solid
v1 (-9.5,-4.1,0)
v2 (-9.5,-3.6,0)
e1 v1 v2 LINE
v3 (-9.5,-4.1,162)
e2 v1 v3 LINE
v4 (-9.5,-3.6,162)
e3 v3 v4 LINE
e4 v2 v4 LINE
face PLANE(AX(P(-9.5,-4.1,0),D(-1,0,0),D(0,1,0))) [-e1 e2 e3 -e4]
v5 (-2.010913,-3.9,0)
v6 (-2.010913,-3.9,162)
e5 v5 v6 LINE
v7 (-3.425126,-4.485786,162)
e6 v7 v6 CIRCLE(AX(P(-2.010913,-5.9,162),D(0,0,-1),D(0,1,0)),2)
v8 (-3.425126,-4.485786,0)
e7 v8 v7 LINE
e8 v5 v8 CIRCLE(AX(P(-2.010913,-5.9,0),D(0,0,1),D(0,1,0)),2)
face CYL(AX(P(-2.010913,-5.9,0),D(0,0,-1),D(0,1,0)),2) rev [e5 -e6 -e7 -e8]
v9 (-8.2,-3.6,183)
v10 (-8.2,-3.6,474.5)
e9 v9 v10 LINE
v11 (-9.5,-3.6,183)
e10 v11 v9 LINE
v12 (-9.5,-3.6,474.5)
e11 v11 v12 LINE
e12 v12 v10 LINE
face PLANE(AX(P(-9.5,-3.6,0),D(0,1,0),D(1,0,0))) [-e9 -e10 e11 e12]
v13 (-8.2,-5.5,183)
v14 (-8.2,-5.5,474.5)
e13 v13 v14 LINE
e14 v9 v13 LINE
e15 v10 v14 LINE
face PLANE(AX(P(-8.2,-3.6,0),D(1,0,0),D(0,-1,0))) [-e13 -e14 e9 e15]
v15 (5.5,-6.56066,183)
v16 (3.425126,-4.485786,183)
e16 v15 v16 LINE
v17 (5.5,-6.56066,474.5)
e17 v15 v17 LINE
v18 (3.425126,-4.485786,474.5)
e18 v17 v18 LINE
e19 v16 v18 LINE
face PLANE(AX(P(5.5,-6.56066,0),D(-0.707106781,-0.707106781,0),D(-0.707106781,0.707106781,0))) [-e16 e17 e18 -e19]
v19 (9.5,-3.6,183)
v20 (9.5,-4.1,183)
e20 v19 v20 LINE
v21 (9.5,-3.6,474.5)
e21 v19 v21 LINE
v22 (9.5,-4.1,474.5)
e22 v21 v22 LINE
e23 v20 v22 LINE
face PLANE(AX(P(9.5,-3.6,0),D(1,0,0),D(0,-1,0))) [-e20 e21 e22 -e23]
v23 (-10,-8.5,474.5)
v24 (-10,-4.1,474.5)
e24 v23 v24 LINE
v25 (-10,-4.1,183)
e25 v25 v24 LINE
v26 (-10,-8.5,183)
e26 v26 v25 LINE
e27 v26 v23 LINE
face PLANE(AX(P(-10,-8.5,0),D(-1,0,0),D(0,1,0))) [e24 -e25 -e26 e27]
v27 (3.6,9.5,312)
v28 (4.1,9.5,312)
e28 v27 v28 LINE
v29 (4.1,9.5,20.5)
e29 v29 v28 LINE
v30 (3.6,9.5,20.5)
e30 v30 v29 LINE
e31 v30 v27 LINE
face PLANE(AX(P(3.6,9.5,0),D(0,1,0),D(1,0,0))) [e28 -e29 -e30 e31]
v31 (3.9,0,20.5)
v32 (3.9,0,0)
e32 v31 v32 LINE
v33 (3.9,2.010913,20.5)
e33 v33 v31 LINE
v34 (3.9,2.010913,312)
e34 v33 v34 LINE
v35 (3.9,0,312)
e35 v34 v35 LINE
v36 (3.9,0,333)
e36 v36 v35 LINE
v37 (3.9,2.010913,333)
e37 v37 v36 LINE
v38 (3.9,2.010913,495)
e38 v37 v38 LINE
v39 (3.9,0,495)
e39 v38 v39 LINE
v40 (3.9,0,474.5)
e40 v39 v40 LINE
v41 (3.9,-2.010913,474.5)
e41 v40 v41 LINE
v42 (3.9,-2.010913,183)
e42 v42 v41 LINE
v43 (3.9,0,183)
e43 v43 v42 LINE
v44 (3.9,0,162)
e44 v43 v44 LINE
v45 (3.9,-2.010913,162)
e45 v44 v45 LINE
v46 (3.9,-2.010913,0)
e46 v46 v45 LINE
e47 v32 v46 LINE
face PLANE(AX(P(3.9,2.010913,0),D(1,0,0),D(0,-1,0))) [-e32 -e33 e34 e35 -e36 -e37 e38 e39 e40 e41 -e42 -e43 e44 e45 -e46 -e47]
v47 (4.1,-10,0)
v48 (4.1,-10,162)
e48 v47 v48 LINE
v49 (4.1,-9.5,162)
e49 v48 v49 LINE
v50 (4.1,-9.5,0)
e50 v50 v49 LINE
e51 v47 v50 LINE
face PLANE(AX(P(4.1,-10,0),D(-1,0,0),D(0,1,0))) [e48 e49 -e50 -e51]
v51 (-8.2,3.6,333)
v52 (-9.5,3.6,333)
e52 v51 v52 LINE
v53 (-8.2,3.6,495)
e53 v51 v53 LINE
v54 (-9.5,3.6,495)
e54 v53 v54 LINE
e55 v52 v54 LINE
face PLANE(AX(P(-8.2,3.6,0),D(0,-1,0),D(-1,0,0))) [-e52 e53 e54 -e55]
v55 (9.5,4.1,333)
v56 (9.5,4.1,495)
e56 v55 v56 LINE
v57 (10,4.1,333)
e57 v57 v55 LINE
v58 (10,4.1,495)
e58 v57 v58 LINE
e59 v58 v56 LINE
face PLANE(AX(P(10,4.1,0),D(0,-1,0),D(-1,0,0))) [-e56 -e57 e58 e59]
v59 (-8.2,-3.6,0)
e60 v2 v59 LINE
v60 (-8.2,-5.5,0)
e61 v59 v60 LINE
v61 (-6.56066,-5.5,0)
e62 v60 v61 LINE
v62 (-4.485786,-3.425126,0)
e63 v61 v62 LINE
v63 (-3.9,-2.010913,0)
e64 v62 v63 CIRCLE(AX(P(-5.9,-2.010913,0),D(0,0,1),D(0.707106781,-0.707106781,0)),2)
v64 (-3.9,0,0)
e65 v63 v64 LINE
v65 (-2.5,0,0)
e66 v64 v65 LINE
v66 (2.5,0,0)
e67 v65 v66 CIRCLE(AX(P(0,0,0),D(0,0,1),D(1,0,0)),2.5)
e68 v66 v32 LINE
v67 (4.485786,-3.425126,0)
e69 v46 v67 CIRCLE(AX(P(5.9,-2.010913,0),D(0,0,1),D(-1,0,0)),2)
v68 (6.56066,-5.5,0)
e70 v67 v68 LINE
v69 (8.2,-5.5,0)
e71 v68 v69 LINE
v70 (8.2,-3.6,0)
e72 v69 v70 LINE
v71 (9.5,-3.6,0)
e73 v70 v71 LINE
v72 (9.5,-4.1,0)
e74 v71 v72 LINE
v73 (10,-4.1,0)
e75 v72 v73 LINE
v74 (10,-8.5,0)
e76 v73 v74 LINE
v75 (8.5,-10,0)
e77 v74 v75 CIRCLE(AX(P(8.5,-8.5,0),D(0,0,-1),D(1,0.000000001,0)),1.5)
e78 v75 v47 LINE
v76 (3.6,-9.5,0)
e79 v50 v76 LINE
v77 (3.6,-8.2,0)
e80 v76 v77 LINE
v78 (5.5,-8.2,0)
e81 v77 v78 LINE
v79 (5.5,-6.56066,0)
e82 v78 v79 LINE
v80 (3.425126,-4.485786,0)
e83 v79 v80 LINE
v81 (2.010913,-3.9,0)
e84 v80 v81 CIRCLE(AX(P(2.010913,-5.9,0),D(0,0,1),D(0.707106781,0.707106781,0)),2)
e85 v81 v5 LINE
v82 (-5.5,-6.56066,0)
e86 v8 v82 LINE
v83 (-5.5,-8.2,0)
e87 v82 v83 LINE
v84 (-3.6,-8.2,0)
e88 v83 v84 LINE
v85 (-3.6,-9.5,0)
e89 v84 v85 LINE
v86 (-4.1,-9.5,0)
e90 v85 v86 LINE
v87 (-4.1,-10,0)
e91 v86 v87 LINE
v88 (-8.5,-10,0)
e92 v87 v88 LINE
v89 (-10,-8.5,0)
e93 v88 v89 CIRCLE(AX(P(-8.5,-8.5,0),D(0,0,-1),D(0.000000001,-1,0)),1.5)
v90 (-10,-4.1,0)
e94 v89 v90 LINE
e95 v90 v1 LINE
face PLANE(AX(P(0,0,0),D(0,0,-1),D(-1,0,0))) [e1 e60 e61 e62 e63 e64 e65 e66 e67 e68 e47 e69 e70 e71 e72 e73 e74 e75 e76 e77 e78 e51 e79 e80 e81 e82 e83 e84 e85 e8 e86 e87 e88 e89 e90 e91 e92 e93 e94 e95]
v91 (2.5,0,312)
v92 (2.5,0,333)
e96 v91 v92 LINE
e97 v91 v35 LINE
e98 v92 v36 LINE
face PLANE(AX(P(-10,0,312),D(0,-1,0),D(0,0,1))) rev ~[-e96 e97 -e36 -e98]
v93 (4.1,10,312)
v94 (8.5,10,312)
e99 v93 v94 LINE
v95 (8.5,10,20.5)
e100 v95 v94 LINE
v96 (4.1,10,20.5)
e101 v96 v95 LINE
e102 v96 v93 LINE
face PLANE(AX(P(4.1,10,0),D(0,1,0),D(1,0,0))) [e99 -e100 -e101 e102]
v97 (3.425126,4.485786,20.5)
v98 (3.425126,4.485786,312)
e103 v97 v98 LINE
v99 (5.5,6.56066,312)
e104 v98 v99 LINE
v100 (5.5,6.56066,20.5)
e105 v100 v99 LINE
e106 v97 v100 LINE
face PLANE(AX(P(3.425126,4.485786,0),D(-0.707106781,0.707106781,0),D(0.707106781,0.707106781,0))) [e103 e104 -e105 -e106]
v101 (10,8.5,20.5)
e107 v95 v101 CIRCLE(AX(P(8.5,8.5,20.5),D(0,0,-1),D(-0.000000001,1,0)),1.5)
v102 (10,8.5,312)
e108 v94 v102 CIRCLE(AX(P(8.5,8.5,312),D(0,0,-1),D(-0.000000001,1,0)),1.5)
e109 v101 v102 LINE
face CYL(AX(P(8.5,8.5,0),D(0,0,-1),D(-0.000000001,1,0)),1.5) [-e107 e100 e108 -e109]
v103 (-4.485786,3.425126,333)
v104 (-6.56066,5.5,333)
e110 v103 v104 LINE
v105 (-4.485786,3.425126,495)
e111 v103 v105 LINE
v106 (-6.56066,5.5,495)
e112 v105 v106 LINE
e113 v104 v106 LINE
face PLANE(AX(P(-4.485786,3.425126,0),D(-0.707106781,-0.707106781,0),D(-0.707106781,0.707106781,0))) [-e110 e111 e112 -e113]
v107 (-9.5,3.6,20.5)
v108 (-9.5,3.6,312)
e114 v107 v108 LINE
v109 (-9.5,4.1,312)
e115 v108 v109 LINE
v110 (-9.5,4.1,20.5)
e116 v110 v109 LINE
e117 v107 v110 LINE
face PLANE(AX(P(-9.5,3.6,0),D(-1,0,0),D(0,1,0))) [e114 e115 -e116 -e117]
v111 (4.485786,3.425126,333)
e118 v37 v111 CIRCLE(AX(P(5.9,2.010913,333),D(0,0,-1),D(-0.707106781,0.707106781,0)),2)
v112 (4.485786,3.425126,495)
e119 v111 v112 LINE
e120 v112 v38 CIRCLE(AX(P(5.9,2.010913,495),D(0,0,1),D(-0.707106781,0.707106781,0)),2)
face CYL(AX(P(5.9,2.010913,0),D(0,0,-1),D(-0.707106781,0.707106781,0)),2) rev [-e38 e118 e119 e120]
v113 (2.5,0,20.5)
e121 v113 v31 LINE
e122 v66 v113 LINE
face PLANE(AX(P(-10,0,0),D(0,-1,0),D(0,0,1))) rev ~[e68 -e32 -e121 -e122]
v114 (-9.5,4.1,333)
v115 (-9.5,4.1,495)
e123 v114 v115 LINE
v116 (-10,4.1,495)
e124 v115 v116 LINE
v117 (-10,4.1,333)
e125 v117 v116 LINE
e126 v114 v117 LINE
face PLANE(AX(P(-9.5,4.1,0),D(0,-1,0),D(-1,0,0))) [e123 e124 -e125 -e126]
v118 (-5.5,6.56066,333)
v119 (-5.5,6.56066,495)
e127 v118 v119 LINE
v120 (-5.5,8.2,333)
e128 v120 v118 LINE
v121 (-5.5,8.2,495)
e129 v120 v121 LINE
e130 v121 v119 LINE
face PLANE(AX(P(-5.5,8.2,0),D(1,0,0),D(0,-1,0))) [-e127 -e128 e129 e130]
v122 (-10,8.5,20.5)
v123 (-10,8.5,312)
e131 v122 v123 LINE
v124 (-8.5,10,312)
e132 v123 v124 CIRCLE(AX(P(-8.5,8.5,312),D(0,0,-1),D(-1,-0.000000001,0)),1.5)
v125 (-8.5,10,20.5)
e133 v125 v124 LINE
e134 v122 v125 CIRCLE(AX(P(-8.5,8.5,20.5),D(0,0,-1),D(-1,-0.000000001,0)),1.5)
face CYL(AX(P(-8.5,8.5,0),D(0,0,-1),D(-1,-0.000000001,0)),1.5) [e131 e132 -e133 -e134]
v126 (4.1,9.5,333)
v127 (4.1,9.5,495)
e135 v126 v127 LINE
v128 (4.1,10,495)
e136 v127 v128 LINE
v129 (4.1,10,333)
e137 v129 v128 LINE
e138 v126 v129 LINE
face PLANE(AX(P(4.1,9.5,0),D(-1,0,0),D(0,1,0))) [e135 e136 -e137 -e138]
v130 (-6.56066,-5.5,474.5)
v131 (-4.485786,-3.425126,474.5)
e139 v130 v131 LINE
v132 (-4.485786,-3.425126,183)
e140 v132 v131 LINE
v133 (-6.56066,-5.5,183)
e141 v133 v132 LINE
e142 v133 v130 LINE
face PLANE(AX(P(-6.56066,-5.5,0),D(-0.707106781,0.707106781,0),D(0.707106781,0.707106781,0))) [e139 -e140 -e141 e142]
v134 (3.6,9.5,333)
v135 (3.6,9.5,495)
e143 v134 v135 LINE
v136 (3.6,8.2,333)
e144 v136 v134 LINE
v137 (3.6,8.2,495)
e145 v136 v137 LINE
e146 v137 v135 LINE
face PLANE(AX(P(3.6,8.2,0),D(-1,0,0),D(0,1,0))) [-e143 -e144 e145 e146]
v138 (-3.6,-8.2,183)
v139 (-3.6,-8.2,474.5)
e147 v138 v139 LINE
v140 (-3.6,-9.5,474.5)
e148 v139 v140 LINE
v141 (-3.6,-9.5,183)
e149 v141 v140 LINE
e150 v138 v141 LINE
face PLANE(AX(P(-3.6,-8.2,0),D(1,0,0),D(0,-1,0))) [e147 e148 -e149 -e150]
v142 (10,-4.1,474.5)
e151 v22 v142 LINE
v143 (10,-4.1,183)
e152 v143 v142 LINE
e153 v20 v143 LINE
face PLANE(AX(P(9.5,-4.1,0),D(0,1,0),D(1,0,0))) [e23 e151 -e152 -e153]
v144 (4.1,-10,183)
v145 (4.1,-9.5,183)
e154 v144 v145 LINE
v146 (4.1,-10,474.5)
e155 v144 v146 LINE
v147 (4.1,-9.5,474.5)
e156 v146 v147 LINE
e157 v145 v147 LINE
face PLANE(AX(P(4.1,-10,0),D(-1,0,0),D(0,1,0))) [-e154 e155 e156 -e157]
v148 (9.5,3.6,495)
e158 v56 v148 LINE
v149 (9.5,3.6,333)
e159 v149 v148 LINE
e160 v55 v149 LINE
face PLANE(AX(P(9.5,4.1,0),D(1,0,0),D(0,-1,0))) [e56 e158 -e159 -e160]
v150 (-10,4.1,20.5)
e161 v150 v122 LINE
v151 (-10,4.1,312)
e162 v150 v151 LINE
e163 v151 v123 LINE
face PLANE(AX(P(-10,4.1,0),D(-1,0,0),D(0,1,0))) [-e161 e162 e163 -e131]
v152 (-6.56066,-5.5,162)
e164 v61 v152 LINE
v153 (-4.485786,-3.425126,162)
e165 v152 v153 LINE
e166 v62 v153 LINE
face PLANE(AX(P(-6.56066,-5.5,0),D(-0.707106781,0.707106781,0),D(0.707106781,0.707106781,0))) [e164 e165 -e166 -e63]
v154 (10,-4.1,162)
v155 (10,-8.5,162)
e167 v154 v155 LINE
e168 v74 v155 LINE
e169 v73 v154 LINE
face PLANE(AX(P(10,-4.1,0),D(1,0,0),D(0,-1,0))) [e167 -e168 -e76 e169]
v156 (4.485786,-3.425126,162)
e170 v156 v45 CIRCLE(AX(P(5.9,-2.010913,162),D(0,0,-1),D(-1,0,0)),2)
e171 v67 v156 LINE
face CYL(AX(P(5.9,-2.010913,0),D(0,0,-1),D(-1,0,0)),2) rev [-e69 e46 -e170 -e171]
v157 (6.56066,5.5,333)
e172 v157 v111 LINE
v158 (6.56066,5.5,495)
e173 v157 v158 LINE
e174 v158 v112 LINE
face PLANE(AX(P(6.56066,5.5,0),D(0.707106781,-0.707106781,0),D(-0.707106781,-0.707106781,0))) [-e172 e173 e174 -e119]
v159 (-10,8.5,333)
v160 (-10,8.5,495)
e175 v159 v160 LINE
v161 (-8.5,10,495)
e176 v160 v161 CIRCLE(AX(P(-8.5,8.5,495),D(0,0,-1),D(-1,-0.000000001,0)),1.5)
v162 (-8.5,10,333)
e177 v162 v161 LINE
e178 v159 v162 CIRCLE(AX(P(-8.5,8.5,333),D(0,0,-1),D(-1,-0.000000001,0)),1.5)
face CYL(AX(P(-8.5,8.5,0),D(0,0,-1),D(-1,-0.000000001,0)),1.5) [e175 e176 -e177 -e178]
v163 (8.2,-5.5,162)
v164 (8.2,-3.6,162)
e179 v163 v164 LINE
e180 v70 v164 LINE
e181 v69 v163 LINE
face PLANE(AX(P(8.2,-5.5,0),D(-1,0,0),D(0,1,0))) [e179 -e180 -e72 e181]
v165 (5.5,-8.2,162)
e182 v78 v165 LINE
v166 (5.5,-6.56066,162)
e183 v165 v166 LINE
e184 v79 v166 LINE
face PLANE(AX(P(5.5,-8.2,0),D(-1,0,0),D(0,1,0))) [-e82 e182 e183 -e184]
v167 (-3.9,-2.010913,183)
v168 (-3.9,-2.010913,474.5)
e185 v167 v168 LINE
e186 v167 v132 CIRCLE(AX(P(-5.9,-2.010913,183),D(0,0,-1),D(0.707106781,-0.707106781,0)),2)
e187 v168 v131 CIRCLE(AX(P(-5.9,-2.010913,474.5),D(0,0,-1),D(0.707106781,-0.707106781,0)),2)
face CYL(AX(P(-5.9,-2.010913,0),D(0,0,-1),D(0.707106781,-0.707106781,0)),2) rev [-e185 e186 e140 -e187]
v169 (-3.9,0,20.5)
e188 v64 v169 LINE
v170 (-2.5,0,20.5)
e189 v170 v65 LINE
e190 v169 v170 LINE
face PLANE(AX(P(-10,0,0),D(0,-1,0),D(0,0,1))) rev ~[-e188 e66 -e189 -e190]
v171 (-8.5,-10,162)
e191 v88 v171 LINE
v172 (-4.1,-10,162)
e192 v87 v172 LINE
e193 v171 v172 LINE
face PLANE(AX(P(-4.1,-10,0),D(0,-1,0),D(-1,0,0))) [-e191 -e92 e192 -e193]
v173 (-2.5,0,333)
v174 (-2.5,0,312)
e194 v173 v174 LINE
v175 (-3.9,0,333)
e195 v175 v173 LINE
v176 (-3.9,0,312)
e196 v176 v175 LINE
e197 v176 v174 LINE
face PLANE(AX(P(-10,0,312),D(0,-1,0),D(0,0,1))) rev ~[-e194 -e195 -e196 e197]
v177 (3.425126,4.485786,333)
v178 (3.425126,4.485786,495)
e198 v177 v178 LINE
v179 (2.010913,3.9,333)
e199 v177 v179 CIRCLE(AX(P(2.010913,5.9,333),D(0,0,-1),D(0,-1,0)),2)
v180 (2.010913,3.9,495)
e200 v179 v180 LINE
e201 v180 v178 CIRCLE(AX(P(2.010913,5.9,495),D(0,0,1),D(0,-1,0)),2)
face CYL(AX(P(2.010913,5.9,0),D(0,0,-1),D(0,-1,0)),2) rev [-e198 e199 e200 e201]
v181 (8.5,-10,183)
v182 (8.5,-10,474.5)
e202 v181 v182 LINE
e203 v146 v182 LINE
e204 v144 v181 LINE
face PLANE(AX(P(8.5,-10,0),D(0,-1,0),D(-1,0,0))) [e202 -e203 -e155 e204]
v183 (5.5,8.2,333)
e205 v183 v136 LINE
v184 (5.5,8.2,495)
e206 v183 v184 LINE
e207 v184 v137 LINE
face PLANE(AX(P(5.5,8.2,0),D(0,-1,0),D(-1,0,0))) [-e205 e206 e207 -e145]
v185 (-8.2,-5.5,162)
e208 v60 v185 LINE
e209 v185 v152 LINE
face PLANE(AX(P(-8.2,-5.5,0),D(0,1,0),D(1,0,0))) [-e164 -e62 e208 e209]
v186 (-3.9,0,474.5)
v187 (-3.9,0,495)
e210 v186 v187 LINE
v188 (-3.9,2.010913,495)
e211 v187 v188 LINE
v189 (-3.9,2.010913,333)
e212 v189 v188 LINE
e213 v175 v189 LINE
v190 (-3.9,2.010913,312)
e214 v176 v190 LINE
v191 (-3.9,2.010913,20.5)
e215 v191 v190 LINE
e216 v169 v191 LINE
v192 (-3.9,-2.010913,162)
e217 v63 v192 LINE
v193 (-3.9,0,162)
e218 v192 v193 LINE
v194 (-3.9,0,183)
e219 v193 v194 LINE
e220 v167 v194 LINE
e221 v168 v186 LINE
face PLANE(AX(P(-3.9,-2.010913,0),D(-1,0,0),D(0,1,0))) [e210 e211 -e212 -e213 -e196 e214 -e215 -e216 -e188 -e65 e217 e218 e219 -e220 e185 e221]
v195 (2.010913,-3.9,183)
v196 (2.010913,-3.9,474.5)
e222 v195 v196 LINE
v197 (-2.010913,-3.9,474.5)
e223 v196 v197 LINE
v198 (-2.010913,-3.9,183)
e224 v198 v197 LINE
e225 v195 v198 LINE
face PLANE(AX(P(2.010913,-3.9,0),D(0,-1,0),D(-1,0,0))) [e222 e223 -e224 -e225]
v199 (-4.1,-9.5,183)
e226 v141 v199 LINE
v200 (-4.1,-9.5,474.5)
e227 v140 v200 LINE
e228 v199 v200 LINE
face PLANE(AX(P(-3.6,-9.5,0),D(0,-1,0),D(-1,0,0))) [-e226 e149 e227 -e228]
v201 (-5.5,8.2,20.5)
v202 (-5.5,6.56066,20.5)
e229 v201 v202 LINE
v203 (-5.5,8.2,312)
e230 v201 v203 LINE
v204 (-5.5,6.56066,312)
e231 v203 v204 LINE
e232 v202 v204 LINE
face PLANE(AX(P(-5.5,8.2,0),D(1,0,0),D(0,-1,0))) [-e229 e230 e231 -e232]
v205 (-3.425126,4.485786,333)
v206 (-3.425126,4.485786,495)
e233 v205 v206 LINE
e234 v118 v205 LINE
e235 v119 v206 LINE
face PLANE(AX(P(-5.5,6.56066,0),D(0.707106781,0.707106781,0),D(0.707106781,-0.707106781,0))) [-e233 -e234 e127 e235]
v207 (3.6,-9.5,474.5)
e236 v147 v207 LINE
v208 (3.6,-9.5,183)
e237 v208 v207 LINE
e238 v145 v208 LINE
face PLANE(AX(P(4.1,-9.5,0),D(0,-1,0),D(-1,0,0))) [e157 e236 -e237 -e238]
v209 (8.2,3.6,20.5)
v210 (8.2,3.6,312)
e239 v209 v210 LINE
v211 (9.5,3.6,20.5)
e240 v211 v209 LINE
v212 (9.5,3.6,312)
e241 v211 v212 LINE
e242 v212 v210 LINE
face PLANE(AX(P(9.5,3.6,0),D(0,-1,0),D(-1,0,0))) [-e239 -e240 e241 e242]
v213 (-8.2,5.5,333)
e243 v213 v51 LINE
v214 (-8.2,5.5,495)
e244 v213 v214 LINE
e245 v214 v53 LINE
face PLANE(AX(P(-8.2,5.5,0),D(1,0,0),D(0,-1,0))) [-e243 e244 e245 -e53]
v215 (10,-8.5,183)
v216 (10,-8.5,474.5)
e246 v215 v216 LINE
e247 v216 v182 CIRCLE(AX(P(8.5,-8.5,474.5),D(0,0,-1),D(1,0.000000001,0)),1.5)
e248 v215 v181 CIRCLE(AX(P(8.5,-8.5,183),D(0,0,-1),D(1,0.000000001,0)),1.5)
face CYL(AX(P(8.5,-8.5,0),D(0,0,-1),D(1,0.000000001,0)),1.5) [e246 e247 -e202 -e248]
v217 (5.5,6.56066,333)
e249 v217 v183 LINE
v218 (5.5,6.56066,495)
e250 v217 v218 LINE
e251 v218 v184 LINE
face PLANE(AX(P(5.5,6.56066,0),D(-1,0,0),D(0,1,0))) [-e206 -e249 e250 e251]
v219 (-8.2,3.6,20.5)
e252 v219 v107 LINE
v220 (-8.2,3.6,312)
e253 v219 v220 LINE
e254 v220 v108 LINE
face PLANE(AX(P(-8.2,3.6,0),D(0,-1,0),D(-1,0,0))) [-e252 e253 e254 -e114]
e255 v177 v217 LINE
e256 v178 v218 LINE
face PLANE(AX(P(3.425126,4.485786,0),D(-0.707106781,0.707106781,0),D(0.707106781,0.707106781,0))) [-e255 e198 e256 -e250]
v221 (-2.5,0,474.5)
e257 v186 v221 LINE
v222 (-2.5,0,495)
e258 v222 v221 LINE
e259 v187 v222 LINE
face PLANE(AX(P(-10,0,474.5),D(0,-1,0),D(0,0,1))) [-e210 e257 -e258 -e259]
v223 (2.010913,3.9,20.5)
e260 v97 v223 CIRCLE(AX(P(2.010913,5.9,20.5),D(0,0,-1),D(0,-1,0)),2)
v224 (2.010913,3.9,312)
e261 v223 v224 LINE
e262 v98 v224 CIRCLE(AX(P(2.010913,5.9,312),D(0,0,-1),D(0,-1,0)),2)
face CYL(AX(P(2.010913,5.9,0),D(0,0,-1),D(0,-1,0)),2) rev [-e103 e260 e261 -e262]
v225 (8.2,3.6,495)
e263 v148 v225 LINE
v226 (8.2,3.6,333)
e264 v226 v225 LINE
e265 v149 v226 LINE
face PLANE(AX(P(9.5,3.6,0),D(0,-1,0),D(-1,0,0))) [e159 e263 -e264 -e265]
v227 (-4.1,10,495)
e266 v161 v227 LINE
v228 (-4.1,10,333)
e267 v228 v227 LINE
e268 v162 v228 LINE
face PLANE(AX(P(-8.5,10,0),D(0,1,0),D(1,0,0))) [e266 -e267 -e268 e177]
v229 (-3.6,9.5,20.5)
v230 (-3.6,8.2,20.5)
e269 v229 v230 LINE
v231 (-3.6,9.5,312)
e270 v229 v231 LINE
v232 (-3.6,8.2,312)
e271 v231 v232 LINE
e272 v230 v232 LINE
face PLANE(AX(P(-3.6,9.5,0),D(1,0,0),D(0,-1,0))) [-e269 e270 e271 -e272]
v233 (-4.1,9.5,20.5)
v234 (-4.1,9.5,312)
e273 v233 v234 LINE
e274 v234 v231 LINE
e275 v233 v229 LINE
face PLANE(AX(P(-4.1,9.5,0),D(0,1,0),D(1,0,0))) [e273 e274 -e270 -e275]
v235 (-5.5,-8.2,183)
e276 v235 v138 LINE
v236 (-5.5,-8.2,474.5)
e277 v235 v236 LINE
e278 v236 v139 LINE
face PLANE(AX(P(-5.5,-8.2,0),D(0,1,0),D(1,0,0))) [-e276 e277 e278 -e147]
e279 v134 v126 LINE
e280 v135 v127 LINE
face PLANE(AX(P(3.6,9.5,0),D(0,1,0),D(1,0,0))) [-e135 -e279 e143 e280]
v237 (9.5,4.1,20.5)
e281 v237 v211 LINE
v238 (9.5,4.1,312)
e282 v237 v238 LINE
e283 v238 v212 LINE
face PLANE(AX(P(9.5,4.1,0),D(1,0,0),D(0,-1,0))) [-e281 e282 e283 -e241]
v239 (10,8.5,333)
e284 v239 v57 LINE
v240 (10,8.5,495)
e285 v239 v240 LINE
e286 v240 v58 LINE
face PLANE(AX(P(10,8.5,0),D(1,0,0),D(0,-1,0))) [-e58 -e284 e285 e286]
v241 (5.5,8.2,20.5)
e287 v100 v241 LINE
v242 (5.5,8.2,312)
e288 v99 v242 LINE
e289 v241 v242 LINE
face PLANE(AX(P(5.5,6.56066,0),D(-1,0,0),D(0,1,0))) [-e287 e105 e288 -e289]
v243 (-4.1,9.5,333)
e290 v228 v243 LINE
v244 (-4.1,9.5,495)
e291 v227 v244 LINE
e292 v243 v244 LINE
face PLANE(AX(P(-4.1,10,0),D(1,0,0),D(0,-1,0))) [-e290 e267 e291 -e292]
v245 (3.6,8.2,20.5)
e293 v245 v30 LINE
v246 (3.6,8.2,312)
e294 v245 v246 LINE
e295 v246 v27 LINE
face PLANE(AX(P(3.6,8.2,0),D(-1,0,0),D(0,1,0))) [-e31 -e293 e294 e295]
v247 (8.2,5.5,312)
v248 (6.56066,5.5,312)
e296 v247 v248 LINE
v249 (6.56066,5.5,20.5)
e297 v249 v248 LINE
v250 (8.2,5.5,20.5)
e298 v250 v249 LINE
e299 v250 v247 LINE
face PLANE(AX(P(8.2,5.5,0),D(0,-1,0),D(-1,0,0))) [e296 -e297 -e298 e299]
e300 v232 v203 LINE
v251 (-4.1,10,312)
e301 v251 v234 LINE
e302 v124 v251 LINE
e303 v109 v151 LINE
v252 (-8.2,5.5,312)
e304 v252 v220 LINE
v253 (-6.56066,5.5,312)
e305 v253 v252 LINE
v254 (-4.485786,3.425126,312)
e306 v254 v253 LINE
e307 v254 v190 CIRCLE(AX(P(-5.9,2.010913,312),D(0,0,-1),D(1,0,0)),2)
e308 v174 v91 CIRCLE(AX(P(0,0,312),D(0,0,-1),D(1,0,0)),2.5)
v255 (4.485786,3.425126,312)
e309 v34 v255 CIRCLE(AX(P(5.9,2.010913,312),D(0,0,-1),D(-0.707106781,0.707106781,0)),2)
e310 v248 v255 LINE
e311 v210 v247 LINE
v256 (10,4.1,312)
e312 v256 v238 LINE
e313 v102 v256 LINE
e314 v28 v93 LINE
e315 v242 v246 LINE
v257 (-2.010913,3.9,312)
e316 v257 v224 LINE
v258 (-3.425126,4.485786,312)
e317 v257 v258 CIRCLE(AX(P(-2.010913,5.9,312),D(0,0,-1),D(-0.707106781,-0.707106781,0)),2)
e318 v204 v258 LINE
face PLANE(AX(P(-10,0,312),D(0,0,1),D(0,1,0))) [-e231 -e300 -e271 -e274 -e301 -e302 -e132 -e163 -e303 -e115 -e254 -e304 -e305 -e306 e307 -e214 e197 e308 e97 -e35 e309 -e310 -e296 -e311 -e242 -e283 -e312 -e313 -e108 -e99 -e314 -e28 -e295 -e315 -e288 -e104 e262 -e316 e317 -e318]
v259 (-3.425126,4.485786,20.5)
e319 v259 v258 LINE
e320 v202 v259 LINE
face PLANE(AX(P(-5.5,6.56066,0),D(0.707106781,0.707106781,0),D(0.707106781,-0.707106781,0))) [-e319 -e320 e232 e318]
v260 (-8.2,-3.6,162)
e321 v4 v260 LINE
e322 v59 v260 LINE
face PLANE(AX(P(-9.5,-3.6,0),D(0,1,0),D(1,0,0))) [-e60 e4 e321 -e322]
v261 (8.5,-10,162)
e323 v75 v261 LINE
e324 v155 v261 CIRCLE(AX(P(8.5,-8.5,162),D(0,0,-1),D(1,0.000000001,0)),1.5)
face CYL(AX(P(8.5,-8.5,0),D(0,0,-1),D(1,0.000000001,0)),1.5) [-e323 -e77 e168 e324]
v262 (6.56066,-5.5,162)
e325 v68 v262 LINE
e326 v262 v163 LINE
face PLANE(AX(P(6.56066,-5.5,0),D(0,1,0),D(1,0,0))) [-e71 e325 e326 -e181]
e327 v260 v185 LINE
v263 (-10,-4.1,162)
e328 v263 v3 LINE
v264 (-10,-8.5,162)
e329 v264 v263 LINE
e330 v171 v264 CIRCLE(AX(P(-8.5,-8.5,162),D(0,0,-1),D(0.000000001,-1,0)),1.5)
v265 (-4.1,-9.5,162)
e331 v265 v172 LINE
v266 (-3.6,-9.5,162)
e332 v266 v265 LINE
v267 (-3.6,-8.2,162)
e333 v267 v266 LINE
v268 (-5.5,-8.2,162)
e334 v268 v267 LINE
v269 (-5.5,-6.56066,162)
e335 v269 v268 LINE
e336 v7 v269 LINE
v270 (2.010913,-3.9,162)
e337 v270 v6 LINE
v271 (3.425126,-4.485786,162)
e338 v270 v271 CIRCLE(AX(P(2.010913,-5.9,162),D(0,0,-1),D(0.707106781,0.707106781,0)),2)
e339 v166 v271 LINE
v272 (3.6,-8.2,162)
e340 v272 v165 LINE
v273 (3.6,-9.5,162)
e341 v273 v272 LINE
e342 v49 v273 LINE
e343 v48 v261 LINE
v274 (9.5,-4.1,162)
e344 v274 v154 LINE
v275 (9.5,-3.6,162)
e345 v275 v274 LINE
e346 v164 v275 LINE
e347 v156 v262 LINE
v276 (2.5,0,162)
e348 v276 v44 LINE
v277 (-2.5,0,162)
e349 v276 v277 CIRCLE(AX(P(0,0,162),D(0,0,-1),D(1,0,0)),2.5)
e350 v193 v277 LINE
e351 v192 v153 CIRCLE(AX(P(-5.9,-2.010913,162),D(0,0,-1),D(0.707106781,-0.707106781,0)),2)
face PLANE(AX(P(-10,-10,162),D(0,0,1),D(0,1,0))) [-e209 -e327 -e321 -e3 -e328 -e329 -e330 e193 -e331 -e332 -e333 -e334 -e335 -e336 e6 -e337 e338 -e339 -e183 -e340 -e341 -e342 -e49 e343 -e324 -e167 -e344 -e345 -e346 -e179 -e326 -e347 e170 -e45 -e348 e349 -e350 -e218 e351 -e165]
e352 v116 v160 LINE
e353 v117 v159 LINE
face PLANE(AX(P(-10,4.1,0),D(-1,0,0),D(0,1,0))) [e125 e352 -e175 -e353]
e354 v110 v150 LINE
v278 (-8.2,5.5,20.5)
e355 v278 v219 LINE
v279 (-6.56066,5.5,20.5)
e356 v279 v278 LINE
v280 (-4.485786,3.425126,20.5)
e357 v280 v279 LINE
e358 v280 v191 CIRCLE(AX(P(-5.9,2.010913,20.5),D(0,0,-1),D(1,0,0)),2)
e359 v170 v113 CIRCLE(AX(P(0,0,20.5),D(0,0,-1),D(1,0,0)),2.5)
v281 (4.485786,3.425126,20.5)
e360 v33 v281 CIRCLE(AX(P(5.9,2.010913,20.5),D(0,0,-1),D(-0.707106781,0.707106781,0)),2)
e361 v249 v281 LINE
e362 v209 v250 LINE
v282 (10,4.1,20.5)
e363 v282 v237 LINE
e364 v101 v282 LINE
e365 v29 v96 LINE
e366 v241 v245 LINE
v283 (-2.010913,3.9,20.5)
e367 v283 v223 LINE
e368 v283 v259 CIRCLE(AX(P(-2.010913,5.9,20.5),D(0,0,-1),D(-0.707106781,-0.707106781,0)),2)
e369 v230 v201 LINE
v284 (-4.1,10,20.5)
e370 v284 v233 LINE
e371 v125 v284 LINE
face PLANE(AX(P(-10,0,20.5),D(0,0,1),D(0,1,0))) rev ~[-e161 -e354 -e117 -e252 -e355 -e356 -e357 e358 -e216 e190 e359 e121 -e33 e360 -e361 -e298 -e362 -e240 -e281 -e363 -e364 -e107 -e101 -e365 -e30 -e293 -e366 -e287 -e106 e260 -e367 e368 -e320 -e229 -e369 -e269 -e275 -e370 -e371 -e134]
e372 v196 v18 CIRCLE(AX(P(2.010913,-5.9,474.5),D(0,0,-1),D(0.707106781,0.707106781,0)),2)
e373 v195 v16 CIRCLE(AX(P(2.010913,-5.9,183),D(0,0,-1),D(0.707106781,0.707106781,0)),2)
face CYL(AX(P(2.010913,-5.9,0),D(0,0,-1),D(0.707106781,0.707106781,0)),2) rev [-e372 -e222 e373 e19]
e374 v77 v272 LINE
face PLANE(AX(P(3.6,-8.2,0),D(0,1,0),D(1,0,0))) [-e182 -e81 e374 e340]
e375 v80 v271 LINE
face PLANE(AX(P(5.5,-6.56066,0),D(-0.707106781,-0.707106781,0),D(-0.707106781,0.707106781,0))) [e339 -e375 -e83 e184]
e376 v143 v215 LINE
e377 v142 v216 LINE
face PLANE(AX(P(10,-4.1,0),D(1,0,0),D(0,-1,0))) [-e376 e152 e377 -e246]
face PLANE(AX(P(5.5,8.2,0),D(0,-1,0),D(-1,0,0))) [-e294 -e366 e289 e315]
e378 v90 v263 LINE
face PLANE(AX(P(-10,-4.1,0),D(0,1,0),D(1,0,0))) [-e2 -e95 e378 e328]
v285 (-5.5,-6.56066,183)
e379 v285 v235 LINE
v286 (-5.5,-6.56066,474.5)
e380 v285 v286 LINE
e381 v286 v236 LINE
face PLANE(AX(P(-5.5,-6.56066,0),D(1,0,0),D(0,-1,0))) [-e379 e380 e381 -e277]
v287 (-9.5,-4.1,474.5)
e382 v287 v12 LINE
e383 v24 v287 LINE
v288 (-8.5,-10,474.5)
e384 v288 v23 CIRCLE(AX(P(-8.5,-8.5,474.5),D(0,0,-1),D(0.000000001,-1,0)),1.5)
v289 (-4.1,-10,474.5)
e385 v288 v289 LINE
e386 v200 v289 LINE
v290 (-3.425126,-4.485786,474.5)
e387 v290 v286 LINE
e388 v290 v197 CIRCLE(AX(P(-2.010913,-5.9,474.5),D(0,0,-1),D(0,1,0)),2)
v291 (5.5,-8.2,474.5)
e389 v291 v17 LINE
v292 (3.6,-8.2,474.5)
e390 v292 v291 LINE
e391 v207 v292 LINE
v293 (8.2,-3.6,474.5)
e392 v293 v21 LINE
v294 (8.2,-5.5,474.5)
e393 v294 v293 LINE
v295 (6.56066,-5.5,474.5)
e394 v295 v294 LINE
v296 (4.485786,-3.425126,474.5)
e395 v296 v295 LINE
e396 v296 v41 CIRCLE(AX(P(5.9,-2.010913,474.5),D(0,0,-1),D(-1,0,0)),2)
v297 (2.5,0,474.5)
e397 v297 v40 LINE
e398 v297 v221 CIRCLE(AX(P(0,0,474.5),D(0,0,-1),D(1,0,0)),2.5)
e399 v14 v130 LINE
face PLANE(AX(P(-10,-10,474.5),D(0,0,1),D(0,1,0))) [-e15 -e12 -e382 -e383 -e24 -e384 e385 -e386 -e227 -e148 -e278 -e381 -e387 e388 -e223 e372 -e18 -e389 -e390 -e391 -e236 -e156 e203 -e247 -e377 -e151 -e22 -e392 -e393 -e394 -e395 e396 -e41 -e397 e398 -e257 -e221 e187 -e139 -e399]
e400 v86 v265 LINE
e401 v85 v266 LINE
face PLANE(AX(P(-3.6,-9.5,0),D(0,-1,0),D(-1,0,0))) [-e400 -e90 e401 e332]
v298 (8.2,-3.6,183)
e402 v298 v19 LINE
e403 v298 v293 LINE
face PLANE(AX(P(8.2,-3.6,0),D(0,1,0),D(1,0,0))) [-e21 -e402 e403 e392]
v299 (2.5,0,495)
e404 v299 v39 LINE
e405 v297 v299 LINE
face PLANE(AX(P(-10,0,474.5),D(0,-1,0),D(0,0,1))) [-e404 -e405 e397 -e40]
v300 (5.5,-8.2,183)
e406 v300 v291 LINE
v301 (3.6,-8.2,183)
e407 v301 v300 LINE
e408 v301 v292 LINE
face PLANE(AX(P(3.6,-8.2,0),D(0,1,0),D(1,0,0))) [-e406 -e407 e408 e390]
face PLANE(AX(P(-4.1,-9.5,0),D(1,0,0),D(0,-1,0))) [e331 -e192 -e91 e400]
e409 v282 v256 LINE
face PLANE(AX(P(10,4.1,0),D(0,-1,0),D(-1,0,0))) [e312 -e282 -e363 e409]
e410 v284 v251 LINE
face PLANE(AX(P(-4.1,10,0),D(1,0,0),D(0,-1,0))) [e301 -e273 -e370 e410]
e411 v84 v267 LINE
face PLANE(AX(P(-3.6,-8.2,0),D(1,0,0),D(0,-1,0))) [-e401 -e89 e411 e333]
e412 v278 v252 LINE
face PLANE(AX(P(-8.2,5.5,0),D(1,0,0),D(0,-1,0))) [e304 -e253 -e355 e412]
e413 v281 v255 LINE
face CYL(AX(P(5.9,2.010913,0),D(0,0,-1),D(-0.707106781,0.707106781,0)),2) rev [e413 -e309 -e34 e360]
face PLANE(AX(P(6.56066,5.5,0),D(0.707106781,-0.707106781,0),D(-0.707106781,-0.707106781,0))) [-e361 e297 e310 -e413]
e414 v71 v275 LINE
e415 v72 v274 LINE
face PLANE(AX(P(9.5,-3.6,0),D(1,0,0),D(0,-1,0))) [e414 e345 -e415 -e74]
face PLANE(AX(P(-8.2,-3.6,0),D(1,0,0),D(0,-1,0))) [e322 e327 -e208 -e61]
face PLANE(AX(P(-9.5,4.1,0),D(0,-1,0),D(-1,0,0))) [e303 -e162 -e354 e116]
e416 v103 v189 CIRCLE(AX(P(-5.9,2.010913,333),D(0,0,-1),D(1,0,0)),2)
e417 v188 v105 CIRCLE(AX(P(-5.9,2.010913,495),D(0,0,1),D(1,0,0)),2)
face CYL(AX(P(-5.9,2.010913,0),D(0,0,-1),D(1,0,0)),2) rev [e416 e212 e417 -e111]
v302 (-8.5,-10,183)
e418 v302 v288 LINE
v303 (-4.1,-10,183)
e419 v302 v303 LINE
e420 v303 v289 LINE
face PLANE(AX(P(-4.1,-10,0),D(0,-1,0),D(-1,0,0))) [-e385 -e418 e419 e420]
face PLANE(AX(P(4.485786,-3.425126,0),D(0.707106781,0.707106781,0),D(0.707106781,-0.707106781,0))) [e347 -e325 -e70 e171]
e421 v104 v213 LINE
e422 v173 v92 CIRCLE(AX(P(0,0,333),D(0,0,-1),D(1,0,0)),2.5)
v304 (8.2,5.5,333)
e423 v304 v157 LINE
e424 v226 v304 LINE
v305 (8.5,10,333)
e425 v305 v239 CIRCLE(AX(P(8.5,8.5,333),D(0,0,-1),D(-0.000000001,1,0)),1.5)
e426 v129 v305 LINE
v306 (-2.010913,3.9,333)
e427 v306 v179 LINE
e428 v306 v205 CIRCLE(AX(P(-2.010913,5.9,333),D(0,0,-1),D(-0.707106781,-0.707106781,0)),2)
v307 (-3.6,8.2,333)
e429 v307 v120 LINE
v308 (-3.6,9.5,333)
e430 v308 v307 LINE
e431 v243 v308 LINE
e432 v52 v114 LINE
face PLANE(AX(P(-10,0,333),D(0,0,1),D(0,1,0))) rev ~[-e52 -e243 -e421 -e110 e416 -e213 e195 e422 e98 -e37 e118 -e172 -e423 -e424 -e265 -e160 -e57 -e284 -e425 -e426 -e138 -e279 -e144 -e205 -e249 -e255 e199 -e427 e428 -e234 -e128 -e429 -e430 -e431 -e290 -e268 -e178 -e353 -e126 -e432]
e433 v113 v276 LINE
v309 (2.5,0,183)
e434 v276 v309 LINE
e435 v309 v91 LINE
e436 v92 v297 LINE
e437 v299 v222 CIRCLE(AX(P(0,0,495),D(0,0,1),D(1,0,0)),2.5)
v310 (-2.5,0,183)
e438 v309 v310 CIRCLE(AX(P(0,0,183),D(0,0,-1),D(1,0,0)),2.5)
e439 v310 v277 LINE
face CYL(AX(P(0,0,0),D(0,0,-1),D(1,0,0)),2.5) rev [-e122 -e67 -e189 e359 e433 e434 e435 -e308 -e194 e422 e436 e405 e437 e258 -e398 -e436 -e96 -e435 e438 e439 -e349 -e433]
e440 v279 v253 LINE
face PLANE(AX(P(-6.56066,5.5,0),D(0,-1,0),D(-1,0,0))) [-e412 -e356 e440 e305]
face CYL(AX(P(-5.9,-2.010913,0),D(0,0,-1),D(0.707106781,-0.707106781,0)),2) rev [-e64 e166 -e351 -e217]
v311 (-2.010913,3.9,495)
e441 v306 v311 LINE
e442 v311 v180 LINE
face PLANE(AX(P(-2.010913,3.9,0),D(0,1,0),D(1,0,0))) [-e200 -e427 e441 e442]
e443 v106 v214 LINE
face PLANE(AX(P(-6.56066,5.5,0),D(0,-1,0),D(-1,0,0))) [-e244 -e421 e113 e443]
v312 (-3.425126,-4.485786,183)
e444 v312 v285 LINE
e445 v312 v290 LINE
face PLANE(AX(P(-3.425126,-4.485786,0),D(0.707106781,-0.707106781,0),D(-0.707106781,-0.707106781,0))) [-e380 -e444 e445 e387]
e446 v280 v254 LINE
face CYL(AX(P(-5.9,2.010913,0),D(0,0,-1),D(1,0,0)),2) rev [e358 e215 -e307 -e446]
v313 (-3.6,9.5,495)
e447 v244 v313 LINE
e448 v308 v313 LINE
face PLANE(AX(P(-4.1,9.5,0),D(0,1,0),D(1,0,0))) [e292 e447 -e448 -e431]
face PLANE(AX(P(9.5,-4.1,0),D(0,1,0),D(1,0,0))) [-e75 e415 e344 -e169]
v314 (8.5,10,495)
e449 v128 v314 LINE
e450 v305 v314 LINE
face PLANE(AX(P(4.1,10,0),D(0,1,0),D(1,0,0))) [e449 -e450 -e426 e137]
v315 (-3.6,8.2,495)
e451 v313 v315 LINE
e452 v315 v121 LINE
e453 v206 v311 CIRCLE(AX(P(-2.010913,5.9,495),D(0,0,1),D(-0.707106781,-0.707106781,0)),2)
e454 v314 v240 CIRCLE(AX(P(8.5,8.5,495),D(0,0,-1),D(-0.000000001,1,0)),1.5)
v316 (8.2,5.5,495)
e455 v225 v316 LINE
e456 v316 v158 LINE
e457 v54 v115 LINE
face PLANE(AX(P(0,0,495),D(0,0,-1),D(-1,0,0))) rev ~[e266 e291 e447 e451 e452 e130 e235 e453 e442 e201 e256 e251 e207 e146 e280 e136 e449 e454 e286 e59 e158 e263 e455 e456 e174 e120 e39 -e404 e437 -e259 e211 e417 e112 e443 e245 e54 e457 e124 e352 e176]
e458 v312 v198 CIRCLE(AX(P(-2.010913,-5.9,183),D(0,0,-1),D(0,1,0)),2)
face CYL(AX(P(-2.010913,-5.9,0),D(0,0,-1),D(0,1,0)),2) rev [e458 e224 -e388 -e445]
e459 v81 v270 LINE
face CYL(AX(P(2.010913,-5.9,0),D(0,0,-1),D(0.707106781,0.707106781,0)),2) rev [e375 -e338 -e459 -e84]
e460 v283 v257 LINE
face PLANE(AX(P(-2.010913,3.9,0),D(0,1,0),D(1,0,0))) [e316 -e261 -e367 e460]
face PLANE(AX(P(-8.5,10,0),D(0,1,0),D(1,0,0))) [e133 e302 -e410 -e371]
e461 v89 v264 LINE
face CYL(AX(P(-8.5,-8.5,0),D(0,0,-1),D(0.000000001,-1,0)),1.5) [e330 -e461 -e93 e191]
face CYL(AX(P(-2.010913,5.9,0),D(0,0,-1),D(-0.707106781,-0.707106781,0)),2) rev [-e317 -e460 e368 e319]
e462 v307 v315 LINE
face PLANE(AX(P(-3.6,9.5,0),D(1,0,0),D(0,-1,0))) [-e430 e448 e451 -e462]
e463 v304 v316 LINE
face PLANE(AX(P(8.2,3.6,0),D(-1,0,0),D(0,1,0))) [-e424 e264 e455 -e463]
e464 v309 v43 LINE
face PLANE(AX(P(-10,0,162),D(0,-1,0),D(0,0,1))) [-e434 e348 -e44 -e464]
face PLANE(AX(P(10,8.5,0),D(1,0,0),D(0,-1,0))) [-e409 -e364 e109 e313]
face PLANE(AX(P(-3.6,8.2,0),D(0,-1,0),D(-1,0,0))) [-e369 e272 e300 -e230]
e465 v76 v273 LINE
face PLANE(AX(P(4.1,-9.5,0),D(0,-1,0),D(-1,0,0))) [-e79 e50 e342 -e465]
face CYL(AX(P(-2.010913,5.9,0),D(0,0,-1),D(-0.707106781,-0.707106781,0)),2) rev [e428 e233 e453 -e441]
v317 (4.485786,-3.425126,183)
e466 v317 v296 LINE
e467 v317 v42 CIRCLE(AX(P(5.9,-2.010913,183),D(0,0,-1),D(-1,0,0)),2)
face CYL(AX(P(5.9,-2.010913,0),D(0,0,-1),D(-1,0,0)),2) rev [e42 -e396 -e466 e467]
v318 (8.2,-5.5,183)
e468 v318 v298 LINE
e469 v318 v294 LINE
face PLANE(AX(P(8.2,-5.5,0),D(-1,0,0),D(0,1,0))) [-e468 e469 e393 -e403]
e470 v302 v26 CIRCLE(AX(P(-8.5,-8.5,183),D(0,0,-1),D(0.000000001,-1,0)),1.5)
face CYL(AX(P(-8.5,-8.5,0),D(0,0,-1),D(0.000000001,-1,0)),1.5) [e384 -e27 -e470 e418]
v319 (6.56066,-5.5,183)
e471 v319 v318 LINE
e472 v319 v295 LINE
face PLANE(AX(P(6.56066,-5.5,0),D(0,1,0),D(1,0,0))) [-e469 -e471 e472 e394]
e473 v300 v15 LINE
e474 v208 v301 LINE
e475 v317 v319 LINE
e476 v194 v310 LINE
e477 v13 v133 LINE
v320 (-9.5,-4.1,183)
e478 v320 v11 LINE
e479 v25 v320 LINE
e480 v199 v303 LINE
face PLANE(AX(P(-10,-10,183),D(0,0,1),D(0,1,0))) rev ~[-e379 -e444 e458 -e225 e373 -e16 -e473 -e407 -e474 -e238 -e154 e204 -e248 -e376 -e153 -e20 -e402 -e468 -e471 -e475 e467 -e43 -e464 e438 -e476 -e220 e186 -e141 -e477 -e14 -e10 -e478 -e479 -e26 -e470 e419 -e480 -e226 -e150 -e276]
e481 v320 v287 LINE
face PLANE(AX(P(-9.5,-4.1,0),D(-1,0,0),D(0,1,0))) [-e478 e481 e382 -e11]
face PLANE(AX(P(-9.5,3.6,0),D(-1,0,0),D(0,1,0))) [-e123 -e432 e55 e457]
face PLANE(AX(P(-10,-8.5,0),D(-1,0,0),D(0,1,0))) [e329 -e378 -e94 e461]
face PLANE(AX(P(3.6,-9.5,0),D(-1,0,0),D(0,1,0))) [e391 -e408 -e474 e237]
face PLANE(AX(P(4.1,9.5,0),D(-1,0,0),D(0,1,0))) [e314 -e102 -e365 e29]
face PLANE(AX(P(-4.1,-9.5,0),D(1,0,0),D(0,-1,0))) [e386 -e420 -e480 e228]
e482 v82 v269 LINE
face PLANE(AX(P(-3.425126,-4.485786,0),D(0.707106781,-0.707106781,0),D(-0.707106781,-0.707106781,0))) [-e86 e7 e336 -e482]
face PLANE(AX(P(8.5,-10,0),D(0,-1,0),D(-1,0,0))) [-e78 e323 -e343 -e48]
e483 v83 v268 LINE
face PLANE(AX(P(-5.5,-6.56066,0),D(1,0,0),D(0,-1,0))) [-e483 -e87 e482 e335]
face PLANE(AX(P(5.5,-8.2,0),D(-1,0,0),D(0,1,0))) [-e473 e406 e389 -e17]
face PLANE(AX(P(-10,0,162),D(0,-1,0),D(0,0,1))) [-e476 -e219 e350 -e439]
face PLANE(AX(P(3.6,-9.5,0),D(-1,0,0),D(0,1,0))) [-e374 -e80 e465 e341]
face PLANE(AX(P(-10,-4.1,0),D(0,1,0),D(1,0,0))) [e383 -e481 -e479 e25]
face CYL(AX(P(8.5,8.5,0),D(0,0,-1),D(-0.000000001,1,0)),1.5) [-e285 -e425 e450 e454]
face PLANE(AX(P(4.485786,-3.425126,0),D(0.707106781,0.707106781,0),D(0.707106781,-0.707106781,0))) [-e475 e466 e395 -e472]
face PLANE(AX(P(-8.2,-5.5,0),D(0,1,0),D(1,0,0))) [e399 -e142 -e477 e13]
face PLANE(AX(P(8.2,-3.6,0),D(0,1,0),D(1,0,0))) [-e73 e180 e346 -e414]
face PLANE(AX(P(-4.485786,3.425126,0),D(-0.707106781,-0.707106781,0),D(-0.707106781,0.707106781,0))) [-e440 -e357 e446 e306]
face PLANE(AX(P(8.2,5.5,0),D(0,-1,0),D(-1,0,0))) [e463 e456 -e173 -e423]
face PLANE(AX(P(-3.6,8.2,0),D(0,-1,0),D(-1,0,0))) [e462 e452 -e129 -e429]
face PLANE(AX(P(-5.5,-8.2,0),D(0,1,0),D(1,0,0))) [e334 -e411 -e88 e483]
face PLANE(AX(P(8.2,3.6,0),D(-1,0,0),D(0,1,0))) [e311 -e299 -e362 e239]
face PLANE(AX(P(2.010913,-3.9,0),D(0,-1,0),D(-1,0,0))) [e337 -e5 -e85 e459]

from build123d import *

# Parameters (mm, degrees)
SKETCH1_R           = 2.5
BOSS_EXTRUDE2_DEPTH = 495
SKETCH_1_W          = 21
SKETCH_1_H          = 10
SKETCH_1_W_2        = 20.5
CUT_EXTRUDE_1_DEPTH = 496.504793115


with BuildPart() as part:
    # Sketch1 → Boss-Extrude2 (new body)
    with BuildSketch(Plane.XY):
        with BuildLine():
            Line((10, -4.1), (10, -8.5))
            ThreePointArc((10, -8.5), (9.560660172, -9.560660172), (8.5, -10))
            Line((8.5, -10), (4.1, -10))
            Line((4.1, -10), (4.1, -9.5))
            Line((4.1, -9.5), (3.6, -9.5))
            Line((3.6, -9.5), (3.6, -8.2))
            Line((3.6, -8.2), (5.5, -8.2))
            Line((5.5, -8.2), (5.5, -6.560660172))
            Line((5.5, -6.560660172), (3.425126266, -4.485786438))
            ThreePointArc((3.425126266, -4.485786438), (2.776279568, -4.052240935), (2.010912703, -3.9))
            Line((2.010912703, -3.9), (-2.010912703, -3.9))
            ThreePointArc((-2.010912703, -3.9), (-2.776279568, -4.052240935), (-3.425126266, -4.485786438))
            Line((-3.425126266, -4.485786438), (-5.5, -6.560660172))
            Line((-5.5, -6.560660172), (-5.5, -8.2))
            Line((-5.5, -8.2), (-3.6, -8.2))
            Line((-3.6, -8.2), (-3.6, -9.5))
            Line((-3.6, -9.5), (-4.1, -9.5))
            Line((-4.1, -9.5), (-4.1, -10))
            Line((-4.1, -10), (-8.5, -10))
            ThreePointArc((-8.5, -10), (-9.560660172, -9.560660172), (-10, -8.5))
            Line((-10, -8.5), (-10, -4.1))
            Line((-10, -4.1), (-9.5, -4.1))
            Line((-9.5, -4.1), (-9.5, -3.6))
            Line((-9.5, -3.6), (-8.2, -3.6))
            Line((-8.2, -3.6), (-8.2, -5.5))
            Line((-8.2, -5.5), (-6.560660172, -5.5))
            Line((-6.560660172, -5.5), (-4.485786438, -3.425126266))
            ThreePointArc((-4.485786438, -3.425126266), (-4.052240935, -2.776279568), (-3.9, -2.010912703))
            Line((-3.9, -2.010912703), (-3.9, 2.010912703))
            ThreePointArc((-3.9, 2.010912703), (-4.052240935, 2.776279568), (-4.485786438, 3.425126266))
            Line((-4.485786438, 3.425126266), (-6.560660172, 5.5))
            Line((-6.560660172, 5.5), (-8.2, 5.5))
            Line((-8.2, 5.5), (-8.2, 3.6))
            Line((-8.2, 3.6), (-9.5, 3.6))
            Line((-9.5, 3.6), (-9.5, 4.1))
            Line((-9.5, 4.1), (-10, 4.1))
            Line((-10, 4.1), (-10, 8.5))
            ThreePointArc((-10, 8.5), (-9.560660172, 9.560660172), (-8.5, 10))
            Line((-8.5, 10), (-4.1, 10))
            Line((-4.1, 10), (-4.1, 9.5))
            Line((-4.1, 9.5), (-3.6, 9.5))
            Line((-3.6, 9.5), (-3.6, 8.2))
            Line((-3.6, 8.2), (-5.5, 8.2))
            Line((-5.5, 8.2), (-5.5, 6.560660172))
            Line((-5.5, 6.560660172), (-3.425126266, 4.485786438))
            ThreePointArc((-3.425126266, 4.485786438), (-2.776279568, 4.052240935), (-2.010912703, 3.9))
            Line((-2.010912703, 3.9), (2.010912703, 3.9))
            ThreePointArc((2.010912703, 3.9), (2.776279568, 4.052240935), (3.425126266, 4.485786438))
            Line((3.425126266, 4.485786438), (5.5, 6.560660172))
            Line((5.5, 6.560660172), (5.5, 8.2))
            Line((5.5, 8.2), (3.6, 8.2))
            Line((3.6, 8.2), (3.6, 9.5))
            Line((3.6, 9.5), (4.1, 9.5))
            Line((4.1, 9.5), (4.1, 10))
            Line((4.1, 10), (8.5, 10))
            ThreePointArc((8.5, 10), (9.560660172, 9.560660172), (10, 8.5))
            Line((10, 8.5), (10, 4.1))
            Line((10, 4.1), (9.5, 4.1))
            Line((9.5, 4.1), (9.5, 3.6))
            Line((9.5, 3.6), (8.2, 3.6))
            Line((8.2, 3.6), (8.2, 5.5))
            Line((8.2, 5.5), (6.560660172, 5.5))
            Line((6.560660172, 5.5), (4.485786438, 3.425126266))
            ThreePointArc((4.485786438, 3.425126266), (4.052240935, 2.776279568), (3.9, 2.010912703))
            Line((3.9, 2.010912703), (3.9, -2.010912703))
            ThreePointArc((3.9, -2.010912703), (4.052240935, -2.776279568), (4.485786438, -3.425126266))
            Line((4.485786438, -3.425126266), (6.560660172, -5.5))
            Line((6.560660172, -5.5), (8.2, -5.5))
            Line((8.2, -5.5), (8.2, -3.6))
            Line((8.2, -3.6), (9.5, -3.6))
            Line((9.5, -3.6), (9.5, -4.1))
            Line((9.5, -4.1), (10, -4.1))
        make_face()
        Circle(SKETCH1_R, mode=Mode.SUBTRACT)
    extrude(amount=BOSS_EXTRUDE2_DEPTH)

    # ｽｹｯﾁ1 → ｶｯﾄ - 押し出し1 (cut, through all)
    with BuildSketch(Plane.ZY.offset(10)):
        with Locations((172.5, -5)):
            Rectangle(SKETCH_1_W, SKETCH_1_H)
        with Locations((10.25, 5)):
            Rectangle(SKETCH_1_W_2, SKETCH_1_H)
        with Locations((484.75, -5)):
            Rectangle(SKETCH_1_W_2, SKETCH_1_H)
        with Locations((322.5, 5)):
            Rectangle(SKETCH_1_W, SKETCH_1_H)
    extrude(amount=-CUT_EXTRUDE_1_DEPTH, mode=Mode.SUBTRACT)


solid = part.part
